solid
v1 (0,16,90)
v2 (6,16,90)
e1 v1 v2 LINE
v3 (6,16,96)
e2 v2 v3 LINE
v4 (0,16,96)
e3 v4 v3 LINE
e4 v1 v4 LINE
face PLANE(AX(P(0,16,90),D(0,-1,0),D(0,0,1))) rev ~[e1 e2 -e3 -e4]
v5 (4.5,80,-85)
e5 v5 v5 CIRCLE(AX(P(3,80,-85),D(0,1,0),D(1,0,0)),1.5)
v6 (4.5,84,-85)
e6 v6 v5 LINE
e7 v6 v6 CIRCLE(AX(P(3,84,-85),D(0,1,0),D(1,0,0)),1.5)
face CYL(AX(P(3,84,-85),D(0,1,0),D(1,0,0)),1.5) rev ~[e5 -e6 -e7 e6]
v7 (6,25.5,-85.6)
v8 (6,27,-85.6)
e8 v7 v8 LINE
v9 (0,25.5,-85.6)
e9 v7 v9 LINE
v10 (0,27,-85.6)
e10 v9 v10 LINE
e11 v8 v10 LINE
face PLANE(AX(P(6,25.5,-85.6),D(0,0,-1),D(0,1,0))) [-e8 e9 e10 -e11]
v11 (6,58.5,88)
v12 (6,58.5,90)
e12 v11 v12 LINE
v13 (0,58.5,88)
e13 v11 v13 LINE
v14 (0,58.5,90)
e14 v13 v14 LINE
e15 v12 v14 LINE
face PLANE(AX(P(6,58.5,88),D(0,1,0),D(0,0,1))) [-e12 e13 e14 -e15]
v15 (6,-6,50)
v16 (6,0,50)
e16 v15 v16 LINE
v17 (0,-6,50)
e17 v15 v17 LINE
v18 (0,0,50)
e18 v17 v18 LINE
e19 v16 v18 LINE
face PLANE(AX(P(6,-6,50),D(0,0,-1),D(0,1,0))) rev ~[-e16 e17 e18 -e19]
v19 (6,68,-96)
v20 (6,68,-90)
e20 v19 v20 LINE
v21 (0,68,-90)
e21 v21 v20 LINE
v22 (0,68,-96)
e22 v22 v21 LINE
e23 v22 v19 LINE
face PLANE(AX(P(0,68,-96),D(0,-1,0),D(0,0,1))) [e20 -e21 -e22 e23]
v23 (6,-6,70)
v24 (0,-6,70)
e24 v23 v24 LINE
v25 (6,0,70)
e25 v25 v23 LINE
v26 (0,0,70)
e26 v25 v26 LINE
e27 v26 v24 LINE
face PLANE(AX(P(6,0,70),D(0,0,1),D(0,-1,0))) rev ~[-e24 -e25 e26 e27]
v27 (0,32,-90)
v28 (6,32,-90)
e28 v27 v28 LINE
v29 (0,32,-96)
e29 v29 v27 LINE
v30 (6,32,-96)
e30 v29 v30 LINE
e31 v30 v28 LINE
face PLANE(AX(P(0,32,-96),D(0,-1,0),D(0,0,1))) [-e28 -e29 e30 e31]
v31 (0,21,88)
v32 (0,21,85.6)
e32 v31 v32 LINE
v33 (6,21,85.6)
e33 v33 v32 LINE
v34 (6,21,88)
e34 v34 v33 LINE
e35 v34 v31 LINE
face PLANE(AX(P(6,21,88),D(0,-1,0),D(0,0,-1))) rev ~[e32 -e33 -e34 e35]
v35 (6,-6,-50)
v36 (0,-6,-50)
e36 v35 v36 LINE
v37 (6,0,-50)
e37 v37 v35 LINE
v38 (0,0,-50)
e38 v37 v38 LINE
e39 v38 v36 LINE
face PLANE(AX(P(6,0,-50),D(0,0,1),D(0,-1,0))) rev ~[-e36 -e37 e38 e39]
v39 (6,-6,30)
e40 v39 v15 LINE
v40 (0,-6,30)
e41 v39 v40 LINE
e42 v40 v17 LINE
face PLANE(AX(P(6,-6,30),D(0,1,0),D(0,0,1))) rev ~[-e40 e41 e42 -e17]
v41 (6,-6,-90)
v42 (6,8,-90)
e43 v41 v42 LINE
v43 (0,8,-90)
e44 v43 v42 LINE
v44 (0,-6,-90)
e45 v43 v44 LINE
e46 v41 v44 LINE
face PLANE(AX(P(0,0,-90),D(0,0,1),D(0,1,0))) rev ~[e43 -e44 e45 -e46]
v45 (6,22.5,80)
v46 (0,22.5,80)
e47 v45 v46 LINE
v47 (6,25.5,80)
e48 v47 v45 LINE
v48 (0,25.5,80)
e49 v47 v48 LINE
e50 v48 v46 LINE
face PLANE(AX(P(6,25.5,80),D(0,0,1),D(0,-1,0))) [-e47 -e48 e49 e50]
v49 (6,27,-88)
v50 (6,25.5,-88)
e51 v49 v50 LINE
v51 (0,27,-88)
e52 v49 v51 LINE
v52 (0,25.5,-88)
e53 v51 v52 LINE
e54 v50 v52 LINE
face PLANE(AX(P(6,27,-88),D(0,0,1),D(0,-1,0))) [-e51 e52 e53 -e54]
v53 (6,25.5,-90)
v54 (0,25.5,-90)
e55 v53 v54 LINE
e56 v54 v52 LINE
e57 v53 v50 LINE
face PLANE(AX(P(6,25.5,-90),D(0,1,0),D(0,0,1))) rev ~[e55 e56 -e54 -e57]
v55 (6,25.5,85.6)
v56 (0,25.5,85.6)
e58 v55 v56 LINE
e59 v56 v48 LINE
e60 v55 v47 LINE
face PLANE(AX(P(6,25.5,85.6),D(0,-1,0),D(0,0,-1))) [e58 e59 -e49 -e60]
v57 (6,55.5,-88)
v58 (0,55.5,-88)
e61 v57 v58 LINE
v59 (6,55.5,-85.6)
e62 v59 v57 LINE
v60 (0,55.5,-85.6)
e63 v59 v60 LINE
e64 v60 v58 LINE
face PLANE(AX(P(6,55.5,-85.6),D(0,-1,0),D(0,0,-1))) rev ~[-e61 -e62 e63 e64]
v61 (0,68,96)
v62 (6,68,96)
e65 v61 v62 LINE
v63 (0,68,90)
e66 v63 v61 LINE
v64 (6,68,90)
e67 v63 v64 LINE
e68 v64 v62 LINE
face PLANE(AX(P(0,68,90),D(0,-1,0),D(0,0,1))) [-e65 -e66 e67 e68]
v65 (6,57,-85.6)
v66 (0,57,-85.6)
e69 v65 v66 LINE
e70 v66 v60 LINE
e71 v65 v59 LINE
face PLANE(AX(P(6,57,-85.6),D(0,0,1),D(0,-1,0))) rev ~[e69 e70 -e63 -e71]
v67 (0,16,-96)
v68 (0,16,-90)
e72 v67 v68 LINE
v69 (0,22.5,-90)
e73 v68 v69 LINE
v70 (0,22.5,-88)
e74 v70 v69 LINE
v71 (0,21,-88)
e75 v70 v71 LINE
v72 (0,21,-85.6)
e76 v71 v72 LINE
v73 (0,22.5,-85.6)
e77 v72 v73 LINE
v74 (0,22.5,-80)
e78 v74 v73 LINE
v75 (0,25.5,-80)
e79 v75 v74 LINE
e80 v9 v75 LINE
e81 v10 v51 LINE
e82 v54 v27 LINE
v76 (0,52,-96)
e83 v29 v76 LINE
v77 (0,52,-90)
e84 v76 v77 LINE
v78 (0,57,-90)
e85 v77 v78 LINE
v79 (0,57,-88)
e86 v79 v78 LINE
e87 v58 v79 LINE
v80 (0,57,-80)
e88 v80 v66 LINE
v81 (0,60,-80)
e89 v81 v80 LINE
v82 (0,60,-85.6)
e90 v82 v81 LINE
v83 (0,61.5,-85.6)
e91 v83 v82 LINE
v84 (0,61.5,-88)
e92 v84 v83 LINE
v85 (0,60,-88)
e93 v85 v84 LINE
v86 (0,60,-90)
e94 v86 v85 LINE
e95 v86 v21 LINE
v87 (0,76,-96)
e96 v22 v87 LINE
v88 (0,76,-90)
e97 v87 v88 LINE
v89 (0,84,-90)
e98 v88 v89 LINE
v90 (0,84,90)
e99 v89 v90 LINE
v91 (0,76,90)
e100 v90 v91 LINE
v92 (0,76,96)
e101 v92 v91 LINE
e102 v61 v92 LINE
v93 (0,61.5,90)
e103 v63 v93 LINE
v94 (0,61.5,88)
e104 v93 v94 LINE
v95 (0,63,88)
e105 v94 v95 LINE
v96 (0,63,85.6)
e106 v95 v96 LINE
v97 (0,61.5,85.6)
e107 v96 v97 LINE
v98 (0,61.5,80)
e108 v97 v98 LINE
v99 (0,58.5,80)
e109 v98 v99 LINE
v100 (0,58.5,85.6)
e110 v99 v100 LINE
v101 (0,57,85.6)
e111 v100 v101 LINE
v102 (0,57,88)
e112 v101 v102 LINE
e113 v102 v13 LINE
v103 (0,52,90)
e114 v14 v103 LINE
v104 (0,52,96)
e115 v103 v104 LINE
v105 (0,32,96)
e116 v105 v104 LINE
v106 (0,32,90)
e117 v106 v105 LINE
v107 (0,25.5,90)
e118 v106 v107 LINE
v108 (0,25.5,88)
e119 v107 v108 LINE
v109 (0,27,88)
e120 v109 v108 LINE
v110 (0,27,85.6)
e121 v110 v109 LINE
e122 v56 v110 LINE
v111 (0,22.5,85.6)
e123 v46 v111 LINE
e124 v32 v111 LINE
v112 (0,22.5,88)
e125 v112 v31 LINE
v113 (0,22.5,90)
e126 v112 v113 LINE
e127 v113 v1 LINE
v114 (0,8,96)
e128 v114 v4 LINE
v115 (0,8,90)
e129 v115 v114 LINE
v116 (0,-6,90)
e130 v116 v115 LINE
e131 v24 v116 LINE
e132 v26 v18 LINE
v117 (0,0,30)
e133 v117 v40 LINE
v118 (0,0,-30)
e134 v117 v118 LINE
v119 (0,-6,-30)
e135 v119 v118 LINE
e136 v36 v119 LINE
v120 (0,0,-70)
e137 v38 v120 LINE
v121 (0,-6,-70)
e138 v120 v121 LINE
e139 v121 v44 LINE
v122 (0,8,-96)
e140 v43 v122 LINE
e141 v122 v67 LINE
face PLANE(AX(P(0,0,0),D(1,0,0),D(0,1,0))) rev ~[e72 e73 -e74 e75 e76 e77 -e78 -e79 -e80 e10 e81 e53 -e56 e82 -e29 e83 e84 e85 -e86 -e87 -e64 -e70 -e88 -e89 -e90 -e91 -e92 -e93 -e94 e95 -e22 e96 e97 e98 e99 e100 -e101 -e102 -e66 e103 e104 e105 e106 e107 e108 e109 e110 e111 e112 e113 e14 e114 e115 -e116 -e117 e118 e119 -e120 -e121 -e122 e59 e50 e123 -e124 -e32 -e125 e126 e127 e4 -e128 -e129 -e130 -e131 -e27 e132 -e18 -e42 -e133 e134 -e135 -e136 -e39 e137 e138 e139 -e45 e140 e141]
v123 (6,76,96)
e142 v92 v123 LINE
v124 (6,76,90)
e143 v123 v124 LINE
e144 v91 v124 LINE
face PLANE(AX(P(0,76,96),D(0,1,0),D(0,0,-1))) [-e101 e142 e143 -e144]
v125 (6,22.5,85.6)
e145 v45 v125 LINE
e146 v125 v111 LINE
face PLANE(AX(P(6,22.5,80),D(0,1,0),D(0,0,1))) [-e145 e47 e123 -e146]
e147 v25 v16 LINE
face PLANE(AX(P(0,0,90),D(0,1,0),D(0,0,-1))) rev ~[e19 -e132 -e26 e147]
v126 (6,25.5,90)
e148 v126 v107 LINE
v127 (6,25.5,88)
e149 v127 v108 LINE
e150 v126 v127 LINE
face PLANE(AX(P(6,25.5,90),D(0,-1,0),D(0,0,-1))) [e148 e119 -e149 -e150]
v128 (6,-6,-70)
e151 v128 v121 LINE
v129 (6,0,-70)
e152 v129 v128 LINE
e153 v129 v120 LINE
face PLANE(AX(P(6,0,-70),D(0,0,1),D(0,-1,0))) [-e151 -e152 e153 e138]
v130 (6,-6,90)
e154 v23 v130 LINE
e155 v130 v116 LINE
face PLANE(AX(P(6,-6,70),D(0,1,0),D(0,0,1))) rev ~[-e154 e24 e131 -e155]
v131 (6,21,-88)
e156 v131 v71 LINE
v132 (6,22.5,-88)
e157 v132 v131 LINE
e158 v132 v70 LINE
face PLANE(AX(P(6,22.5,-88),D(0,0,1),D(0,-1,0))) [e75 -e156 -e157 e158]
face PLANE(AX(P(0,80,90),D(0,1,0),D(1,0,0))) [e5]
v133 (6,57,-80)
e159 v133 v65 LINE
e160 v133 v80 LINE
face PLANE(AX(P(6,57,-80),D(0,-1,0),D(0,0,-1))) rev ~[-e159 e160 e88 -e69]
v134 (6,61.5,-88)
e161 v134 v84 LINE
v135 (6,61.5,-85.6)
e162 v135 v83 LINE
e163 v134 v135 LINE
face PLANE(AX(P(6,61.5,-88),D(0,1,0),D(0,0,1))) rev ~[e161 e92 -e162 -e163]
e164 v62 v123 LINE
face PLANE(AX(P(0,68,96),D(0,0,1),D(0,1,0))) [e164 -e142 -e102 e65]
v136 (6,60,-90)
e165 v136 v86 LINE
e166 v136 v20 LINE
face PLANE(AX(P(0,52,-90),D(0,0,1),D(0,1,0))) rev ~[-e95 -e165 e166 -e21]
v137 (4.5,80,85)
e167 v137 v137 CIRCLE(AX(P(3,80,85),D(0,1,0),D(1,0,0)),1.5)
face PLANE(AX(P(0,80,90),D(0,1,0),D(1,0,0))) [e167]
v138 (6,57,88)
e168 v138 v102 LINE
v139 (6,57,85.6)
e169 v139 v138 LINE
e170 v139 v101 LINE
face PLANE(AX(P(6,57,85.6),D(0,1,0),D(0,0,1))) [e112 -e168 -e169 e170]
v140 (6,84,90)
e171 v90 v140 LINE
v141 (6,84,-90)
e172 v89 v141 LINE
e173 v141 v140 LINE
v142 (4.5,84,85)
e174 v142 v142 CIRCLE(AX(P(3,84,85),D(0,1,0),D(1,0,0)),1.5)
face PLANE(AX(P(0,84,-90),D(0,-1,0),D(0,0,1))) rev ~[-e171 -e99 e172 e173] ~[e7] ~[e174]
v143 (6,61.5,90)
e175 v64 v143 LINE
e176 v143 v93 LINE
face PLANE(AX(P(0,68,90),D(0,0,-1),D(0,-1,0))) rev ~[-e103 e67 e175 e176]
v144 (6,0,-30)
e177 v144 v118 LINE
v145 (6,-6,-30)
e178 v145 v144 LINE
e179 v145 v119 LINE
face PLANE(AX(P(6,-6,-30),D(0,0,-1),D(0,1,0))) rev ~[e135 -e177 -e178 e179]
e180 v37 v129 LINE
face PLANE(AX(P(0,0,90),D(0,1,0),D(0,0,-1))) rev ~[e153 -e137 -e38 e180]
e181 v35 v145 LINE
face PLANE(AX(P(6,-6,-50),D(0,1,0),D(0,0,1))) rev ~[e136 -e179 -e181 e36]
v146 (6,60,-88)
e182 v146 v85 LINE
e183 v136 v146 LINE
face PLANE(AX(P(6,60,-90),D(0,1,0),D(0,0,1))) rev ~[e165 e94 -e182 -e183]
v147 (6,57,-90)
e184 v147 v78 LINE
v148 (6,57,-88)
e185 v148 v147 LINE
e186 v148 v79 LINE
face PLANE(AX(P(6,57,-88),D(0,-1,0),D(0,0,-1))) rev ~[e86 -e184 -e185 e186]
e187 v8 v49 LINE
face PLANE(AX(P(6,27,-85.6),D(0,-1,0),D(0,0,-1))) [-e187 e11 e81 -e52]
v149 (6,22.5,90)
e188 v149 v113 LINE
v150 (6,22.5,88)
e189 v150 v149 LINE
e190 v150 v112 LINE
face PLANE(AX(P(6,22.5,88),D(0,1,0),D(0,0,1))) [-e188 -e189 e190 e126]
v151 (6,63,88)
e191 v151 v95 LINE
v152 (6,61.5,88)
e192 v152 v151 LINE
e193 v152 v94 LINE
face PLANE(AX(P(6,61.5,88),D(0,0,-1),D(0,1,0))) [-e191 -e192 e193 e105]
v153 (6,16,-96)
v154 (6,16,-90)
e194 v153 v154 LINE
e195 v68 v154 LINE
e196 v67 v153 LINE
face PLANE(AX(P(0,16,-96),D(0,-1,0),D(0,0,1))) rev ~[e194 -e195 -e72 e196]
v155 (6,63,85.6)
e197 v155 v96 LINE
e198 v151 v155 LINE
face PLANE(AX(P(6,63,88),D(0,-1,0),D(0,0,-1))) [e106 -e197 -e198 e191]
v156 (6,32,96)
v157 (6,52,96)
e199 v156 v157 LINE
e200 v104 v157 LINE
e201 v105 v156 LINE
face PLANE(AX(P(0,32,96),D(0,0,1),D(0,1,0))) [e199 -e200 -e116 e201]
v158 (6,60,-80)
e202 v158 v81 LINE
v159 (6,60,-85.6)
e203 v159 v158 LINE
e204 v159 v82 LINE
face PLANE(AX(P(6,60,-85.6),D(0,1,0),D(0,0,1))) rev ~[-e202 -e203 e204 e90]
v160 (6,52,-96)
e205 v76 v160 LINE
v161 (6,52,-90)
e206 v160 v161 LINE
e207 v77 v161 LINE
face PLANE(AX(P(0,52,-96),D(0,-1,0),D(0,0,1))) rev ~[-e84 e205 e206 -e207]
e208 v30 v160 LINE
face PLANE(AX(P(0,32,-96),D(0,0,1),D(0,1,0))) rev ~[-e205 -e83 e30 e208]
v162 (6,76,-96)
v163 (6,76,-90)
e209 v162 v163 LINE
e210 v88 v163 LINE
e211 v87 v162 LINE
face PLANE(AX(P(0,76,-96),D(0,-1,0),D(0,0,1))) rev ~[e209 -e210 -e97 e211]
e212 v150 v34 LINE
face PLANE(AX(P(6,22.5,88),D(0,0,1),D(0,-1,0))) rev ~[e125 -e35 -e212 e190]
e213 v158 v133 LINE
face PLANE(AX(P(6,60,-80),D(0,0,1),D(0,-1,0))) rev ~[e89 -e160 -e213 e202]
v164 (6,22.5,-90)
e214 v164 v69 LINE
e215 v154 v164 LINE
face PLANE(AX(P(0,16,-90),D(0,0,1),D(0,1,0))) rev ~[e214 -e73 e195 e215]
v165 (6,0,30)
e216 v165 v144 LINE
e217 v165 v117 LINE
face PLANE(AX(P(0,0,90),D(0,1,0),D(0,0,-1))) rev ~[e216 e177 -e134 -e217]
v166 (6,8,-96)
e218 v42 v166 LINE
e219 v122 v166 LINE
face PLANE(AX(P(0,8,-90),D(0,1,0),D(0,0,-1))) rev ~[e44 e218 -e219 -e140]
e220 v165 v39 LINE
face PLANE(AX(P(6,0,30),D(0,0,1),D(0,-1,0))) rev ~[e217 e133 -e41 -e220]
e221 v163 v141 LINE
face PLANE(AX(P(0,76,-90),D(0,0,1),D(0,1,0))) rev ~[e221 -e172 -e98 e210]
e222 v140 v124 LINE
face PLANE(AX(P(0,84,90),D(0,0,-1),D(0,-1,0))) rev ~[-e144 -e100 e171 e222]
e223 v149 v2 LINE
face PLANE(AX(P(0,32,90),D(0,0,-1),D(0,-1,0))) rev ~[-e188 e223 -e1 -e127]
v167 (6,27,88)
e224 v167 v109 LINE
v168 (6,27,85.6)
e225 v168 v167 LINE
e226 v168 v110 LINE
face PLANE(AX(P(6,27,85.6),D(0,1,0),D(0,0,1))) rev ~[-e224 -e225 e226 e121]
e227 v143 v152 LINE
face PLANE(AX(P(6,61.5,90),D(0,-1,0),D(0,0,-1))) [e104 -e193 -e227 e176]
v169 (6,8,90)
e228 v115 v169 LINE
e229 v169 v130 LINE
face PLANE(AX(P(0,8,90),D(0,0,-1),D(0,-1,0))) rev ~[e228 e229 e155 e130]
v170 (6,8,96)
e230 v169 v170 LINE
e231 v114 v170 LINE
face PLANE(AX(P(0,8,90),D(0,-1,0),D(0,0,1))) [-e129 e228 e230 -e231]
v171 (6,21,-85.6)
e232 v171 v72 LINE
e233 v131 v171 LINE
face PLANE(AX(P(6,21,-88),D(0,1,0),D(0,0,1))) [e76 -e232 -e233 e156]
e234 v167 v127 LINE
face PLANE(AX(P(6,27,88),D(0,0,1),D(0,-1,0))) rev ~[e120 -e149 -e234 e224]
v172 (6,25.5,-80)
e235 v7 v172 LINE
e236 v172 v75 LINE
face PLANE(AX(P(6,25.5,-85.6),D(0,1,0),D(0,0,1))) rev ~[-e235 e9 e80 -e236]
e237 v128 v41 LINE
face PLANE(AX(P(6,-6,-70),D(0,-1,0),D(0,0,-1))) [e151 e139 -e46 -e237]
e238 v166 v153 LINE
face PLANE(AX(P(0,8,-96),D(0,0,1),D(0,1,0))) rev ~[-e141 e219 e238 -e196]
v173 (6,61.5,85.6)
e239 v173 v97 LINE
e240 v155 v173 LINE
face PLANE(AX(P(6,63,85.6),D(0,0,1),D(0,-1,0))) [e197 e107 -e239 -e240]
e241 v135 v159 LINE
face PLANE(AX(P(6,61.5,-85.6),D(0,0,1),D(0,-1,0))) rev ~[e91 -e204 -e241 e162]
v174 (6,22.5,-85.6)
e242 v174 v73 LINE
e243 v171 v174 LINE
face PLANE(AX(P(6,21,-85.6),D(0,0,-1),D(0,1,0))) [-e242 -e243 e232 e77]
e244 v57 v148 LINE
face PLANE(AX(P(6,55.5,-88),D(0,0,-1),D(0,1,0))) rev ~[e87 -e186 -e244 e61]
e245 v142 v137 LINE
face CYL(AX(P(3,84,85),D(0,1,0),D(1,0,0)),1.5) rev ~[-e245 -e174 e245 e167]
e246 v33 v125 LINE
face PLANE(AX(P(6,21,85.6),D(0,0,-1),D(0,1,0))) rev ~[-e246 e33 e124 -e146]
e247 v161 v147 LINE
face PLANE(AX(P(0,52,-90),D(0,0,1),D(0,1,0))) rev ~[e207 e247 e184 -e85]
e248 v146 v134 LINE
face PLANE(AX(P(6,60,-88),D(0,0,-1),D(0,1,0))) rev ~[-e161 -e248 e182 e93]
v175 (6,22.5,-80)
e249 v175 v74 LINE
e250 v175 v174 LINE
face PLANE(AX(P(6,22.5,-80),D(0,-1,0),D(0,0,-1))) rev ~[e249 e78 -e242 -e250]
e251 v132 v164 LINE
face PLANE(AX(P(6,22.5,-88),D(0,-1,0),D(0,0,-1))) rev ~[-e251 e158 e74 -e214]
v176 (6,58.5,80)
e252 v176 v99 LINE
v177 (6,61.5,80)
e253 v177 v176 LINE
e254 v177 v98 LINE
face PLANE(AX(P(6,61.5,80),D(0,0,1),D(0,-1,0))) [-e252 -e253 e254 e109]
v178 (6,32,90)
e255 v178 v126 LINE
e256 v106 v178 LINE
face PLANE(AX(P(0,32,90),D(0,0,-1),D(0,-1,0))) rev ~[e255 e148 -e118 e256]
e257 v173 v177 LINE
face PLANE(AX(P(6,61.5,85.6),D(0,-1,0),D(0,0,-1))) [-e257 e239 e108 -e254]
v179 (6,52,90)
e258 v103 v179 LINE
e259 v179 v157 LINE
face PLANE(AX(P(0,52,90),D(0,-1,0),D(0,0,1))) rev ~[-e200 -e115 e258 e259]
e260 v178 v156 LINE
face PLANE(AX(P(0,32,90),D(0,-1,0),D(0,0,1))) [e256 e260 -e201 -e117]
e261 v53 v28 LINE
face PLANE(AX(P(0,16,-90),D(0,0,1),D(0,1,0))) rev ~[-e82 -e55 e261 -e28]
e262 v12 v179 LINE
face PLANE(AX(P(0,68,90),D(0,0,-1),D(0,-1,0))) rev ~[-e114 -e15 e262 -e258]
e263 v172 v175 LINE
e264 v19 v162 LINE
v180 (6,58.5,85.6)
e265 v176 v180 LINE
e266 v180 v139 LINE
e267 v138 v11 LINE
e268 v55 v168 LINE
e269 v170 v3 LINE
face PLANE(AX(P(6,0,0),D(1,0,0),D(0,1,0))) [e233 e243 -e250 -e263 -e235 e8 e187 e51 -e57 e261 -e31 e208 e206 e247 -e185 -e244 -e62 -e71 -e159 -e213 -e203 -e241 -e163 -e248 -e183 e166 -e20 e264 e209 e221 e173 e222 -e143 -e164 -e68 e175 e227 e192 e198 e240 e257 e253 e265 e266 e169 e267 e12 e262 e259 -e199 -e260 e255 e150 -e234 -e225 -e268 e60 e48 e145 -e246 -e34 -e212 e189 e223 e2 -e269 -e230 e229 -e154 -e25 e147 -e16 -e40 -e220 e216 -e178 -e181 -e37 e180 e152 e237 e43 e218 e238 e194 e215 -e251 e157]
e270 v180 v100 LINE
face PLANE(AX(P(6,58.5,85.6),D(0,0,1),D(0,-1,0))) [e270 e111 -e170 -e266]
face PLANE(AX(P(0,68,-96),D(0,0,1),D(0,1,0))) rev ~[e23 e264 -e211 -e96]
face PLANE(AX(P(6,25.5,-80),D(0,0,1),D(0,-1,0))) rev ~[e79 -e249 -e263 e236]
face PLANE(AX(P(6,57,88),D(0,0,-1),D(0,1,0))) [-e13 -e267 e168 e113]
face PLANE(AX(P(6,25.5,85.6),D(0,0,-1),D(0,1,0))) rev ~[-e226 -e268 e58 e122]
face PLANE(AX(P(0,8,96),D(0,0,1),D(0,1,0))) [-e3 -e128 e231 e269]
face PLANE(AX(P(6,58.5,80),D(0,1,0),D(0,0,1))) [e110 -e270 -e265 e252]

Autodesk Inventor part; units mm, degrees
ref_plane "YZ Plane" through (0, 0, 0) normal (1, 0, 0) x (0, 1, 0)
ref_plane "XZ Plane" through (0, 0, 0) normal (0, 1, 0) x (-1, 0, 0)
ref_plane "XY Plane" through (0, 0, 0) normal (0, 0, 1) x (1, 0, 0)
sketch "Эскиз1" plane through (0, 0, 0) normal (1, 0, 0) x (0, 1, 0)
  line L0 (84, 90) -> (0, 90)
  line L1 (0, 90) -> (0, -90)
  line L2 (0, -90) -> (84, -90)
  line L3 (84, -90) -> (84, 90)
  line L4 (76, 90) -> (8, 90)
  line L5 (8, 90) -> (8, 96)
  line L6 (8, 96) -> (76, 96)
  line L7 (76, 96) -> (76, 90)
  line L8 (76, -90) -> (8, -90)
  line L9 (8, -90) -> (8, -96)
  line L10 (8, -96) -> (76, -96)
  line L11 (76, -96) -> (76, -90)
  line L12 (16, -96) -> (16, -90)
  line L13 (32, -96) -> (32, -90)
  line L14 (68, -96) -> (68, -90)
  line L15 (52, -96) -> (52, -90)
  line L16 (16, 90) -> (16, 96)
  line L17 (32, 90) -> (32, 96)
  line L18 (68, 90) -> (68, 96)
  line L19 (52, 90) -> (52, 96)
  circle A0 centre (20, -59.5) radius 1.5
  circle A1 centre (20, -73.5) radius 1.5
  circle A2 centre (7, -59.5) radius 1.5
  circle A3 centre (7, -73.5) radius 1.5
  line L20 (20, -59.5) -> (0, -59.5) construction
  line L21 (7, -59.5) -> (7, -73.5) construction
  line L22 (20, -73.5) -> (0, -73.5) construction
  point P0 (0, 0)
  point P1 (76, 93)
  point P2 (8, 93)
  point P3 (8, -90)
  point P4 (68, -93)
  point P5 (76, -93)
  point P6 (52, -93)
  point P7 (16, -93)
  point P8 (8, -93)
  point P9 (32, -93)
  point P10 (68, 93)
  point P11 (52, 93)
  point P12 (16, 93)
  point P13 (32, 93)
  dimension "d0" = 180
  dimension "d1" = 84
  dimension "d2" = 90
  dimension "d3" = 0
  dimension "d4" = 6
  dimension "d5" = 8
  dimension "d6" = 8
  dimension "d7" = 6
  dimension "d40" = 8
  dimension "d41" = 16
  dimension "d42" = 8
  dimension "d43" = 16
  dimension "d44" = 8
  dimension "d45" = 16
  dimension "d46" = 16
  dimension "d47" = 8
  dimension "d76" = 14
  dimension "d77" = 3
  dimension "d78" = 3
  dimension "d79" = 20
  dimension "d80" = 20
  dimension "d81" = 3
  dimension "d82" = 3
  dimension "d83" = 13
  dimension "d84" = 13
  dimension "d85" = 16.5
extrude "Выдавливание1" add sketch "Эскиз1" along normal blind 6 contours L3 L2 L1 L0 | L0 L18 L6 L7 | L11 L10 L14 L2 | L0 L17 L6 L19 | L15 L10 L13 L2 | L0 L5 L6 L16 | L12 L10 L9 L2 | A0 | A1 | A2 | A3
sketch "Эскиз4" plane through (0, 84, 90) normal (0, 1, 0) x (1, 0, 0)
  circle A0 centre (3, 5) radius 1.5
  circle A1 centre (3, 175) radius 1.5
  line L0 (0, 0) -> (6, 0)
  line L1 (6, 180) -> (6, 0)
  line L2 (0, 180) -> (6, 180)
  line L3 (6, 180) -> (6, 0) projected
  line L4 (0, 0) -> (6, 0) projected
  line L5 (0, 180) -> (6, 180) projected
  point P0 (0, 90)
  point P1 (3, 0)
  dimension "d30" = 3
  dimension "d31" = 3
  dimension "d32" = 5
  dimension "d33" = 3
  dimension "d34" = 5
  dimension "d35" = 3
  dimension "d36" = 6
  dimension "d37" = 6
extrude "Выдавливание4" cut sketch "Эскиз4" against normal blind 4
sketch "Эскиз6" plane through (6, 0, 0) normal (1, 0, 0) x (0, 0, -1)
  line L0 (-90, 8) -> (-90, 0) projected
  line L1 (-90, 0) -> (-70, 0)
  line L2 (-70, 0) -> (-70, -6)
  line L3 (-70, -6) -> (-90, -6)
  line L4 (-90, -6) -> (-90, 0)
  line L5 (-90, 0) -> (90, 0) projected
  line L6 (-50, 0) -> (-30, 0)
  line L7 (-30, 0) -> (-30, -6)
  line L8 (-30, -6) -> (-50, -6)
  line L9 (-50, -6) -> (-50, 0)
  line L10 (30, 0) -> (50, 0)
  line L11 (50, 0) -> (50, -6)
  line L12 (50, -6) -> (30, -6)
  line L13 (30, -6) -> (30, 0)
  line L14 (90, 0) -> (70, 0)
  line L15 (70, 0) -> (70, -6)
  line L16 (70, -6) -> (90, -6)
  line L17 (90, -6) -> (90, 0)
  point P0 (0, 0)
  point P1 (-80, -6)
  point P2 (-50, -3)
  point P3 (-70, -3)
  point P4 (-30, -3)
  point P5 (90, -3)
  point P6 (70, -3)
  point P7 (50, -3)
  dimension "d48" = 6
  dimension "d49" = 6
  dimension "d50" = 6
  dimension "d51" = 20
  dimension "d52" = 20
  dimension "d53" = 20
  dimension "d54" = 20
  dimension "d55" = 20
  dimension "d56" = 20
extrude "Выдавливание5" add sketch "Эскиз6" against normal blind 6
sketch "Эскиз8" plane through (6, 0, 0) normal (1, 0, 0) x (0, 0, -1)
  line L0 (90, 60) -> (80, 60)
  line L1 (80, 60) -> (80, 57)
  line L2 (80, 57) -> (90, 57)
  line L3 (90, 57) -> (90, 60)
  line L4 (85.6, 55.5) -> (88, 55.5)
  line L5 (88, 55.5) -> (88, 61.5)
  line L6 (88, 61.5) -> (85.6, 61.5)
  line L7 (85.6, 61.5) -> (85.6, 55.5)
  line L8 (90, 25.5) -> (80, 25.5)
  line L9 (80, 25.5) -> (80, 22.5)
  line L10 (80, 22.5) -> (90, 22.5)
  line L11 (90, 22.5) -> (90, 25.5)
  line L12 (85.6, 27) -> (88, 27)
  line L13 (88, 27) -> (88, 21)
  line L14 (88, 21) -> (85.6, 21)
  line L15 (85.6, 21) -> (85.6, 27)
  line L16 (-85.6, 27) -> (-88, 27)
  line L17 (-90, 22.5) -> (-90, 25.5)
  line L18 (-85.6, 21) -> (-85.6, 27)
  line L19 (-88, 21) -> (-85.6, 21)
  line L20 (-88, 27) -> (-88, 21)
  line L21 (-80, 61.5) -> (-80, 58.5)
  line L22 (-90, 61.5) -> (-80, 61.5)
  line L23 (-80, 25.5) -> (-80, 22.5)
  line L24 (-90, 25.5) -> (-80, 25.5)
  line L25 (-80, 22.5) -> (-90, 22.5)
  line L26 (-80, 58.5) -> (-90, 58.5)
  line L27 (-85.6, 57) -> (-88, 57)
  line L28 (-90, 58.5) -> (-90, 61.5)
  line L29 (-88, 57) -> (-88, 63)
  line L30 (-85.6, 63) -> (-85.6, 57)
  line L31 (-88, 63) -> (-85.6, 63)
  line L32 (90, 32) -> (96, 32) projected
  line L33 (90, 16) -> (90, 32) projected
  line L34 (90, 68) -> (96, 68) projected
  line L35 (-96, 68) -> (-90, 68) projected
  line L36 (-90, 68) -> (-90, 52) projected
  line L37 (-90, 32) -> (-90, 16) projected
  line L38 (-96, 32) -> (-90, 32) projected
  point P0 (0, 0)
  point P1 (97.0761, 73.2611)
  point P2 (97.0761, 37.2611)
  point P3 (-93, 32)
  point P4 (85.6, 22.5)
  point P5 (88, 22.5)
  point P6 (88, 25.5)
  point P7 (85.6, 25.5)
  point P8 (85.6, 57)
  point P9 (88, 57)
  point P10 (88, 60)
  point P11 (85.6, 60)
  point P12 (-88, 25.5)
  point P13 (-88, 22.5)
  point P14 (-85.6, 22.5)
  point P15 (-85.6, 25.5)
  point P16 (-85.6, 61.5)
  point P17 (-88, 61.5)
  point P18 (-88, 58.5)
  point P19 (-85.6, 58.5)
  dimension "d86" = 6
  dimension "d87" = 2.4
  dimension "d88" = 10
  dimension "d89" = 3
  dimension "d90" = 1.5
  dimension "d91" = 5.6
  dimension "d92" = 10
  dimension "d93" = 3
  dimension "d94" = 1.5
  dimension "d95" = 6
  dimension "d96" = 5.6
  dimension "d97" = 2.4
  dimension "d100" = 6.5
  dimension "d101" = 10
  dimension "d102" = 8
  dimension "d103" = 6.5
  dimension "d104" = 3
  dimension "d105" = 10
  dimension "d106" = 2.4
  dimension "d107" = 1.5
  dimension "d108" = 6
  dimension "d109" = 2
  dimension "d110" = 6
  dimension "d111" = 2.4
  dimension "d112" = 10
  dimension "d113" = 3
  dimension "d114" = 6.5
  dimension "d115" = 1.5
extrude "Выдавливание7" cut sketch "Эскиз8" against normal blind 10
equation "\"d2\" = 0.5 * d0"
equation "\"d42\" = d40"
equation "\"d43\" = d41"
equation "\"d44\" = d40"
equation "\"d45\" = d41"
equation "\"d46\" = d41"
equation "\"d47\" = d40"
equation "\"d52\" = d51"
equation "\"d53\" = d51"
equation "\"d54\" = d51"
equation "\"d55\" = d51"
equation "\"d56\" = d51"
properties part number "передняя стенка"
